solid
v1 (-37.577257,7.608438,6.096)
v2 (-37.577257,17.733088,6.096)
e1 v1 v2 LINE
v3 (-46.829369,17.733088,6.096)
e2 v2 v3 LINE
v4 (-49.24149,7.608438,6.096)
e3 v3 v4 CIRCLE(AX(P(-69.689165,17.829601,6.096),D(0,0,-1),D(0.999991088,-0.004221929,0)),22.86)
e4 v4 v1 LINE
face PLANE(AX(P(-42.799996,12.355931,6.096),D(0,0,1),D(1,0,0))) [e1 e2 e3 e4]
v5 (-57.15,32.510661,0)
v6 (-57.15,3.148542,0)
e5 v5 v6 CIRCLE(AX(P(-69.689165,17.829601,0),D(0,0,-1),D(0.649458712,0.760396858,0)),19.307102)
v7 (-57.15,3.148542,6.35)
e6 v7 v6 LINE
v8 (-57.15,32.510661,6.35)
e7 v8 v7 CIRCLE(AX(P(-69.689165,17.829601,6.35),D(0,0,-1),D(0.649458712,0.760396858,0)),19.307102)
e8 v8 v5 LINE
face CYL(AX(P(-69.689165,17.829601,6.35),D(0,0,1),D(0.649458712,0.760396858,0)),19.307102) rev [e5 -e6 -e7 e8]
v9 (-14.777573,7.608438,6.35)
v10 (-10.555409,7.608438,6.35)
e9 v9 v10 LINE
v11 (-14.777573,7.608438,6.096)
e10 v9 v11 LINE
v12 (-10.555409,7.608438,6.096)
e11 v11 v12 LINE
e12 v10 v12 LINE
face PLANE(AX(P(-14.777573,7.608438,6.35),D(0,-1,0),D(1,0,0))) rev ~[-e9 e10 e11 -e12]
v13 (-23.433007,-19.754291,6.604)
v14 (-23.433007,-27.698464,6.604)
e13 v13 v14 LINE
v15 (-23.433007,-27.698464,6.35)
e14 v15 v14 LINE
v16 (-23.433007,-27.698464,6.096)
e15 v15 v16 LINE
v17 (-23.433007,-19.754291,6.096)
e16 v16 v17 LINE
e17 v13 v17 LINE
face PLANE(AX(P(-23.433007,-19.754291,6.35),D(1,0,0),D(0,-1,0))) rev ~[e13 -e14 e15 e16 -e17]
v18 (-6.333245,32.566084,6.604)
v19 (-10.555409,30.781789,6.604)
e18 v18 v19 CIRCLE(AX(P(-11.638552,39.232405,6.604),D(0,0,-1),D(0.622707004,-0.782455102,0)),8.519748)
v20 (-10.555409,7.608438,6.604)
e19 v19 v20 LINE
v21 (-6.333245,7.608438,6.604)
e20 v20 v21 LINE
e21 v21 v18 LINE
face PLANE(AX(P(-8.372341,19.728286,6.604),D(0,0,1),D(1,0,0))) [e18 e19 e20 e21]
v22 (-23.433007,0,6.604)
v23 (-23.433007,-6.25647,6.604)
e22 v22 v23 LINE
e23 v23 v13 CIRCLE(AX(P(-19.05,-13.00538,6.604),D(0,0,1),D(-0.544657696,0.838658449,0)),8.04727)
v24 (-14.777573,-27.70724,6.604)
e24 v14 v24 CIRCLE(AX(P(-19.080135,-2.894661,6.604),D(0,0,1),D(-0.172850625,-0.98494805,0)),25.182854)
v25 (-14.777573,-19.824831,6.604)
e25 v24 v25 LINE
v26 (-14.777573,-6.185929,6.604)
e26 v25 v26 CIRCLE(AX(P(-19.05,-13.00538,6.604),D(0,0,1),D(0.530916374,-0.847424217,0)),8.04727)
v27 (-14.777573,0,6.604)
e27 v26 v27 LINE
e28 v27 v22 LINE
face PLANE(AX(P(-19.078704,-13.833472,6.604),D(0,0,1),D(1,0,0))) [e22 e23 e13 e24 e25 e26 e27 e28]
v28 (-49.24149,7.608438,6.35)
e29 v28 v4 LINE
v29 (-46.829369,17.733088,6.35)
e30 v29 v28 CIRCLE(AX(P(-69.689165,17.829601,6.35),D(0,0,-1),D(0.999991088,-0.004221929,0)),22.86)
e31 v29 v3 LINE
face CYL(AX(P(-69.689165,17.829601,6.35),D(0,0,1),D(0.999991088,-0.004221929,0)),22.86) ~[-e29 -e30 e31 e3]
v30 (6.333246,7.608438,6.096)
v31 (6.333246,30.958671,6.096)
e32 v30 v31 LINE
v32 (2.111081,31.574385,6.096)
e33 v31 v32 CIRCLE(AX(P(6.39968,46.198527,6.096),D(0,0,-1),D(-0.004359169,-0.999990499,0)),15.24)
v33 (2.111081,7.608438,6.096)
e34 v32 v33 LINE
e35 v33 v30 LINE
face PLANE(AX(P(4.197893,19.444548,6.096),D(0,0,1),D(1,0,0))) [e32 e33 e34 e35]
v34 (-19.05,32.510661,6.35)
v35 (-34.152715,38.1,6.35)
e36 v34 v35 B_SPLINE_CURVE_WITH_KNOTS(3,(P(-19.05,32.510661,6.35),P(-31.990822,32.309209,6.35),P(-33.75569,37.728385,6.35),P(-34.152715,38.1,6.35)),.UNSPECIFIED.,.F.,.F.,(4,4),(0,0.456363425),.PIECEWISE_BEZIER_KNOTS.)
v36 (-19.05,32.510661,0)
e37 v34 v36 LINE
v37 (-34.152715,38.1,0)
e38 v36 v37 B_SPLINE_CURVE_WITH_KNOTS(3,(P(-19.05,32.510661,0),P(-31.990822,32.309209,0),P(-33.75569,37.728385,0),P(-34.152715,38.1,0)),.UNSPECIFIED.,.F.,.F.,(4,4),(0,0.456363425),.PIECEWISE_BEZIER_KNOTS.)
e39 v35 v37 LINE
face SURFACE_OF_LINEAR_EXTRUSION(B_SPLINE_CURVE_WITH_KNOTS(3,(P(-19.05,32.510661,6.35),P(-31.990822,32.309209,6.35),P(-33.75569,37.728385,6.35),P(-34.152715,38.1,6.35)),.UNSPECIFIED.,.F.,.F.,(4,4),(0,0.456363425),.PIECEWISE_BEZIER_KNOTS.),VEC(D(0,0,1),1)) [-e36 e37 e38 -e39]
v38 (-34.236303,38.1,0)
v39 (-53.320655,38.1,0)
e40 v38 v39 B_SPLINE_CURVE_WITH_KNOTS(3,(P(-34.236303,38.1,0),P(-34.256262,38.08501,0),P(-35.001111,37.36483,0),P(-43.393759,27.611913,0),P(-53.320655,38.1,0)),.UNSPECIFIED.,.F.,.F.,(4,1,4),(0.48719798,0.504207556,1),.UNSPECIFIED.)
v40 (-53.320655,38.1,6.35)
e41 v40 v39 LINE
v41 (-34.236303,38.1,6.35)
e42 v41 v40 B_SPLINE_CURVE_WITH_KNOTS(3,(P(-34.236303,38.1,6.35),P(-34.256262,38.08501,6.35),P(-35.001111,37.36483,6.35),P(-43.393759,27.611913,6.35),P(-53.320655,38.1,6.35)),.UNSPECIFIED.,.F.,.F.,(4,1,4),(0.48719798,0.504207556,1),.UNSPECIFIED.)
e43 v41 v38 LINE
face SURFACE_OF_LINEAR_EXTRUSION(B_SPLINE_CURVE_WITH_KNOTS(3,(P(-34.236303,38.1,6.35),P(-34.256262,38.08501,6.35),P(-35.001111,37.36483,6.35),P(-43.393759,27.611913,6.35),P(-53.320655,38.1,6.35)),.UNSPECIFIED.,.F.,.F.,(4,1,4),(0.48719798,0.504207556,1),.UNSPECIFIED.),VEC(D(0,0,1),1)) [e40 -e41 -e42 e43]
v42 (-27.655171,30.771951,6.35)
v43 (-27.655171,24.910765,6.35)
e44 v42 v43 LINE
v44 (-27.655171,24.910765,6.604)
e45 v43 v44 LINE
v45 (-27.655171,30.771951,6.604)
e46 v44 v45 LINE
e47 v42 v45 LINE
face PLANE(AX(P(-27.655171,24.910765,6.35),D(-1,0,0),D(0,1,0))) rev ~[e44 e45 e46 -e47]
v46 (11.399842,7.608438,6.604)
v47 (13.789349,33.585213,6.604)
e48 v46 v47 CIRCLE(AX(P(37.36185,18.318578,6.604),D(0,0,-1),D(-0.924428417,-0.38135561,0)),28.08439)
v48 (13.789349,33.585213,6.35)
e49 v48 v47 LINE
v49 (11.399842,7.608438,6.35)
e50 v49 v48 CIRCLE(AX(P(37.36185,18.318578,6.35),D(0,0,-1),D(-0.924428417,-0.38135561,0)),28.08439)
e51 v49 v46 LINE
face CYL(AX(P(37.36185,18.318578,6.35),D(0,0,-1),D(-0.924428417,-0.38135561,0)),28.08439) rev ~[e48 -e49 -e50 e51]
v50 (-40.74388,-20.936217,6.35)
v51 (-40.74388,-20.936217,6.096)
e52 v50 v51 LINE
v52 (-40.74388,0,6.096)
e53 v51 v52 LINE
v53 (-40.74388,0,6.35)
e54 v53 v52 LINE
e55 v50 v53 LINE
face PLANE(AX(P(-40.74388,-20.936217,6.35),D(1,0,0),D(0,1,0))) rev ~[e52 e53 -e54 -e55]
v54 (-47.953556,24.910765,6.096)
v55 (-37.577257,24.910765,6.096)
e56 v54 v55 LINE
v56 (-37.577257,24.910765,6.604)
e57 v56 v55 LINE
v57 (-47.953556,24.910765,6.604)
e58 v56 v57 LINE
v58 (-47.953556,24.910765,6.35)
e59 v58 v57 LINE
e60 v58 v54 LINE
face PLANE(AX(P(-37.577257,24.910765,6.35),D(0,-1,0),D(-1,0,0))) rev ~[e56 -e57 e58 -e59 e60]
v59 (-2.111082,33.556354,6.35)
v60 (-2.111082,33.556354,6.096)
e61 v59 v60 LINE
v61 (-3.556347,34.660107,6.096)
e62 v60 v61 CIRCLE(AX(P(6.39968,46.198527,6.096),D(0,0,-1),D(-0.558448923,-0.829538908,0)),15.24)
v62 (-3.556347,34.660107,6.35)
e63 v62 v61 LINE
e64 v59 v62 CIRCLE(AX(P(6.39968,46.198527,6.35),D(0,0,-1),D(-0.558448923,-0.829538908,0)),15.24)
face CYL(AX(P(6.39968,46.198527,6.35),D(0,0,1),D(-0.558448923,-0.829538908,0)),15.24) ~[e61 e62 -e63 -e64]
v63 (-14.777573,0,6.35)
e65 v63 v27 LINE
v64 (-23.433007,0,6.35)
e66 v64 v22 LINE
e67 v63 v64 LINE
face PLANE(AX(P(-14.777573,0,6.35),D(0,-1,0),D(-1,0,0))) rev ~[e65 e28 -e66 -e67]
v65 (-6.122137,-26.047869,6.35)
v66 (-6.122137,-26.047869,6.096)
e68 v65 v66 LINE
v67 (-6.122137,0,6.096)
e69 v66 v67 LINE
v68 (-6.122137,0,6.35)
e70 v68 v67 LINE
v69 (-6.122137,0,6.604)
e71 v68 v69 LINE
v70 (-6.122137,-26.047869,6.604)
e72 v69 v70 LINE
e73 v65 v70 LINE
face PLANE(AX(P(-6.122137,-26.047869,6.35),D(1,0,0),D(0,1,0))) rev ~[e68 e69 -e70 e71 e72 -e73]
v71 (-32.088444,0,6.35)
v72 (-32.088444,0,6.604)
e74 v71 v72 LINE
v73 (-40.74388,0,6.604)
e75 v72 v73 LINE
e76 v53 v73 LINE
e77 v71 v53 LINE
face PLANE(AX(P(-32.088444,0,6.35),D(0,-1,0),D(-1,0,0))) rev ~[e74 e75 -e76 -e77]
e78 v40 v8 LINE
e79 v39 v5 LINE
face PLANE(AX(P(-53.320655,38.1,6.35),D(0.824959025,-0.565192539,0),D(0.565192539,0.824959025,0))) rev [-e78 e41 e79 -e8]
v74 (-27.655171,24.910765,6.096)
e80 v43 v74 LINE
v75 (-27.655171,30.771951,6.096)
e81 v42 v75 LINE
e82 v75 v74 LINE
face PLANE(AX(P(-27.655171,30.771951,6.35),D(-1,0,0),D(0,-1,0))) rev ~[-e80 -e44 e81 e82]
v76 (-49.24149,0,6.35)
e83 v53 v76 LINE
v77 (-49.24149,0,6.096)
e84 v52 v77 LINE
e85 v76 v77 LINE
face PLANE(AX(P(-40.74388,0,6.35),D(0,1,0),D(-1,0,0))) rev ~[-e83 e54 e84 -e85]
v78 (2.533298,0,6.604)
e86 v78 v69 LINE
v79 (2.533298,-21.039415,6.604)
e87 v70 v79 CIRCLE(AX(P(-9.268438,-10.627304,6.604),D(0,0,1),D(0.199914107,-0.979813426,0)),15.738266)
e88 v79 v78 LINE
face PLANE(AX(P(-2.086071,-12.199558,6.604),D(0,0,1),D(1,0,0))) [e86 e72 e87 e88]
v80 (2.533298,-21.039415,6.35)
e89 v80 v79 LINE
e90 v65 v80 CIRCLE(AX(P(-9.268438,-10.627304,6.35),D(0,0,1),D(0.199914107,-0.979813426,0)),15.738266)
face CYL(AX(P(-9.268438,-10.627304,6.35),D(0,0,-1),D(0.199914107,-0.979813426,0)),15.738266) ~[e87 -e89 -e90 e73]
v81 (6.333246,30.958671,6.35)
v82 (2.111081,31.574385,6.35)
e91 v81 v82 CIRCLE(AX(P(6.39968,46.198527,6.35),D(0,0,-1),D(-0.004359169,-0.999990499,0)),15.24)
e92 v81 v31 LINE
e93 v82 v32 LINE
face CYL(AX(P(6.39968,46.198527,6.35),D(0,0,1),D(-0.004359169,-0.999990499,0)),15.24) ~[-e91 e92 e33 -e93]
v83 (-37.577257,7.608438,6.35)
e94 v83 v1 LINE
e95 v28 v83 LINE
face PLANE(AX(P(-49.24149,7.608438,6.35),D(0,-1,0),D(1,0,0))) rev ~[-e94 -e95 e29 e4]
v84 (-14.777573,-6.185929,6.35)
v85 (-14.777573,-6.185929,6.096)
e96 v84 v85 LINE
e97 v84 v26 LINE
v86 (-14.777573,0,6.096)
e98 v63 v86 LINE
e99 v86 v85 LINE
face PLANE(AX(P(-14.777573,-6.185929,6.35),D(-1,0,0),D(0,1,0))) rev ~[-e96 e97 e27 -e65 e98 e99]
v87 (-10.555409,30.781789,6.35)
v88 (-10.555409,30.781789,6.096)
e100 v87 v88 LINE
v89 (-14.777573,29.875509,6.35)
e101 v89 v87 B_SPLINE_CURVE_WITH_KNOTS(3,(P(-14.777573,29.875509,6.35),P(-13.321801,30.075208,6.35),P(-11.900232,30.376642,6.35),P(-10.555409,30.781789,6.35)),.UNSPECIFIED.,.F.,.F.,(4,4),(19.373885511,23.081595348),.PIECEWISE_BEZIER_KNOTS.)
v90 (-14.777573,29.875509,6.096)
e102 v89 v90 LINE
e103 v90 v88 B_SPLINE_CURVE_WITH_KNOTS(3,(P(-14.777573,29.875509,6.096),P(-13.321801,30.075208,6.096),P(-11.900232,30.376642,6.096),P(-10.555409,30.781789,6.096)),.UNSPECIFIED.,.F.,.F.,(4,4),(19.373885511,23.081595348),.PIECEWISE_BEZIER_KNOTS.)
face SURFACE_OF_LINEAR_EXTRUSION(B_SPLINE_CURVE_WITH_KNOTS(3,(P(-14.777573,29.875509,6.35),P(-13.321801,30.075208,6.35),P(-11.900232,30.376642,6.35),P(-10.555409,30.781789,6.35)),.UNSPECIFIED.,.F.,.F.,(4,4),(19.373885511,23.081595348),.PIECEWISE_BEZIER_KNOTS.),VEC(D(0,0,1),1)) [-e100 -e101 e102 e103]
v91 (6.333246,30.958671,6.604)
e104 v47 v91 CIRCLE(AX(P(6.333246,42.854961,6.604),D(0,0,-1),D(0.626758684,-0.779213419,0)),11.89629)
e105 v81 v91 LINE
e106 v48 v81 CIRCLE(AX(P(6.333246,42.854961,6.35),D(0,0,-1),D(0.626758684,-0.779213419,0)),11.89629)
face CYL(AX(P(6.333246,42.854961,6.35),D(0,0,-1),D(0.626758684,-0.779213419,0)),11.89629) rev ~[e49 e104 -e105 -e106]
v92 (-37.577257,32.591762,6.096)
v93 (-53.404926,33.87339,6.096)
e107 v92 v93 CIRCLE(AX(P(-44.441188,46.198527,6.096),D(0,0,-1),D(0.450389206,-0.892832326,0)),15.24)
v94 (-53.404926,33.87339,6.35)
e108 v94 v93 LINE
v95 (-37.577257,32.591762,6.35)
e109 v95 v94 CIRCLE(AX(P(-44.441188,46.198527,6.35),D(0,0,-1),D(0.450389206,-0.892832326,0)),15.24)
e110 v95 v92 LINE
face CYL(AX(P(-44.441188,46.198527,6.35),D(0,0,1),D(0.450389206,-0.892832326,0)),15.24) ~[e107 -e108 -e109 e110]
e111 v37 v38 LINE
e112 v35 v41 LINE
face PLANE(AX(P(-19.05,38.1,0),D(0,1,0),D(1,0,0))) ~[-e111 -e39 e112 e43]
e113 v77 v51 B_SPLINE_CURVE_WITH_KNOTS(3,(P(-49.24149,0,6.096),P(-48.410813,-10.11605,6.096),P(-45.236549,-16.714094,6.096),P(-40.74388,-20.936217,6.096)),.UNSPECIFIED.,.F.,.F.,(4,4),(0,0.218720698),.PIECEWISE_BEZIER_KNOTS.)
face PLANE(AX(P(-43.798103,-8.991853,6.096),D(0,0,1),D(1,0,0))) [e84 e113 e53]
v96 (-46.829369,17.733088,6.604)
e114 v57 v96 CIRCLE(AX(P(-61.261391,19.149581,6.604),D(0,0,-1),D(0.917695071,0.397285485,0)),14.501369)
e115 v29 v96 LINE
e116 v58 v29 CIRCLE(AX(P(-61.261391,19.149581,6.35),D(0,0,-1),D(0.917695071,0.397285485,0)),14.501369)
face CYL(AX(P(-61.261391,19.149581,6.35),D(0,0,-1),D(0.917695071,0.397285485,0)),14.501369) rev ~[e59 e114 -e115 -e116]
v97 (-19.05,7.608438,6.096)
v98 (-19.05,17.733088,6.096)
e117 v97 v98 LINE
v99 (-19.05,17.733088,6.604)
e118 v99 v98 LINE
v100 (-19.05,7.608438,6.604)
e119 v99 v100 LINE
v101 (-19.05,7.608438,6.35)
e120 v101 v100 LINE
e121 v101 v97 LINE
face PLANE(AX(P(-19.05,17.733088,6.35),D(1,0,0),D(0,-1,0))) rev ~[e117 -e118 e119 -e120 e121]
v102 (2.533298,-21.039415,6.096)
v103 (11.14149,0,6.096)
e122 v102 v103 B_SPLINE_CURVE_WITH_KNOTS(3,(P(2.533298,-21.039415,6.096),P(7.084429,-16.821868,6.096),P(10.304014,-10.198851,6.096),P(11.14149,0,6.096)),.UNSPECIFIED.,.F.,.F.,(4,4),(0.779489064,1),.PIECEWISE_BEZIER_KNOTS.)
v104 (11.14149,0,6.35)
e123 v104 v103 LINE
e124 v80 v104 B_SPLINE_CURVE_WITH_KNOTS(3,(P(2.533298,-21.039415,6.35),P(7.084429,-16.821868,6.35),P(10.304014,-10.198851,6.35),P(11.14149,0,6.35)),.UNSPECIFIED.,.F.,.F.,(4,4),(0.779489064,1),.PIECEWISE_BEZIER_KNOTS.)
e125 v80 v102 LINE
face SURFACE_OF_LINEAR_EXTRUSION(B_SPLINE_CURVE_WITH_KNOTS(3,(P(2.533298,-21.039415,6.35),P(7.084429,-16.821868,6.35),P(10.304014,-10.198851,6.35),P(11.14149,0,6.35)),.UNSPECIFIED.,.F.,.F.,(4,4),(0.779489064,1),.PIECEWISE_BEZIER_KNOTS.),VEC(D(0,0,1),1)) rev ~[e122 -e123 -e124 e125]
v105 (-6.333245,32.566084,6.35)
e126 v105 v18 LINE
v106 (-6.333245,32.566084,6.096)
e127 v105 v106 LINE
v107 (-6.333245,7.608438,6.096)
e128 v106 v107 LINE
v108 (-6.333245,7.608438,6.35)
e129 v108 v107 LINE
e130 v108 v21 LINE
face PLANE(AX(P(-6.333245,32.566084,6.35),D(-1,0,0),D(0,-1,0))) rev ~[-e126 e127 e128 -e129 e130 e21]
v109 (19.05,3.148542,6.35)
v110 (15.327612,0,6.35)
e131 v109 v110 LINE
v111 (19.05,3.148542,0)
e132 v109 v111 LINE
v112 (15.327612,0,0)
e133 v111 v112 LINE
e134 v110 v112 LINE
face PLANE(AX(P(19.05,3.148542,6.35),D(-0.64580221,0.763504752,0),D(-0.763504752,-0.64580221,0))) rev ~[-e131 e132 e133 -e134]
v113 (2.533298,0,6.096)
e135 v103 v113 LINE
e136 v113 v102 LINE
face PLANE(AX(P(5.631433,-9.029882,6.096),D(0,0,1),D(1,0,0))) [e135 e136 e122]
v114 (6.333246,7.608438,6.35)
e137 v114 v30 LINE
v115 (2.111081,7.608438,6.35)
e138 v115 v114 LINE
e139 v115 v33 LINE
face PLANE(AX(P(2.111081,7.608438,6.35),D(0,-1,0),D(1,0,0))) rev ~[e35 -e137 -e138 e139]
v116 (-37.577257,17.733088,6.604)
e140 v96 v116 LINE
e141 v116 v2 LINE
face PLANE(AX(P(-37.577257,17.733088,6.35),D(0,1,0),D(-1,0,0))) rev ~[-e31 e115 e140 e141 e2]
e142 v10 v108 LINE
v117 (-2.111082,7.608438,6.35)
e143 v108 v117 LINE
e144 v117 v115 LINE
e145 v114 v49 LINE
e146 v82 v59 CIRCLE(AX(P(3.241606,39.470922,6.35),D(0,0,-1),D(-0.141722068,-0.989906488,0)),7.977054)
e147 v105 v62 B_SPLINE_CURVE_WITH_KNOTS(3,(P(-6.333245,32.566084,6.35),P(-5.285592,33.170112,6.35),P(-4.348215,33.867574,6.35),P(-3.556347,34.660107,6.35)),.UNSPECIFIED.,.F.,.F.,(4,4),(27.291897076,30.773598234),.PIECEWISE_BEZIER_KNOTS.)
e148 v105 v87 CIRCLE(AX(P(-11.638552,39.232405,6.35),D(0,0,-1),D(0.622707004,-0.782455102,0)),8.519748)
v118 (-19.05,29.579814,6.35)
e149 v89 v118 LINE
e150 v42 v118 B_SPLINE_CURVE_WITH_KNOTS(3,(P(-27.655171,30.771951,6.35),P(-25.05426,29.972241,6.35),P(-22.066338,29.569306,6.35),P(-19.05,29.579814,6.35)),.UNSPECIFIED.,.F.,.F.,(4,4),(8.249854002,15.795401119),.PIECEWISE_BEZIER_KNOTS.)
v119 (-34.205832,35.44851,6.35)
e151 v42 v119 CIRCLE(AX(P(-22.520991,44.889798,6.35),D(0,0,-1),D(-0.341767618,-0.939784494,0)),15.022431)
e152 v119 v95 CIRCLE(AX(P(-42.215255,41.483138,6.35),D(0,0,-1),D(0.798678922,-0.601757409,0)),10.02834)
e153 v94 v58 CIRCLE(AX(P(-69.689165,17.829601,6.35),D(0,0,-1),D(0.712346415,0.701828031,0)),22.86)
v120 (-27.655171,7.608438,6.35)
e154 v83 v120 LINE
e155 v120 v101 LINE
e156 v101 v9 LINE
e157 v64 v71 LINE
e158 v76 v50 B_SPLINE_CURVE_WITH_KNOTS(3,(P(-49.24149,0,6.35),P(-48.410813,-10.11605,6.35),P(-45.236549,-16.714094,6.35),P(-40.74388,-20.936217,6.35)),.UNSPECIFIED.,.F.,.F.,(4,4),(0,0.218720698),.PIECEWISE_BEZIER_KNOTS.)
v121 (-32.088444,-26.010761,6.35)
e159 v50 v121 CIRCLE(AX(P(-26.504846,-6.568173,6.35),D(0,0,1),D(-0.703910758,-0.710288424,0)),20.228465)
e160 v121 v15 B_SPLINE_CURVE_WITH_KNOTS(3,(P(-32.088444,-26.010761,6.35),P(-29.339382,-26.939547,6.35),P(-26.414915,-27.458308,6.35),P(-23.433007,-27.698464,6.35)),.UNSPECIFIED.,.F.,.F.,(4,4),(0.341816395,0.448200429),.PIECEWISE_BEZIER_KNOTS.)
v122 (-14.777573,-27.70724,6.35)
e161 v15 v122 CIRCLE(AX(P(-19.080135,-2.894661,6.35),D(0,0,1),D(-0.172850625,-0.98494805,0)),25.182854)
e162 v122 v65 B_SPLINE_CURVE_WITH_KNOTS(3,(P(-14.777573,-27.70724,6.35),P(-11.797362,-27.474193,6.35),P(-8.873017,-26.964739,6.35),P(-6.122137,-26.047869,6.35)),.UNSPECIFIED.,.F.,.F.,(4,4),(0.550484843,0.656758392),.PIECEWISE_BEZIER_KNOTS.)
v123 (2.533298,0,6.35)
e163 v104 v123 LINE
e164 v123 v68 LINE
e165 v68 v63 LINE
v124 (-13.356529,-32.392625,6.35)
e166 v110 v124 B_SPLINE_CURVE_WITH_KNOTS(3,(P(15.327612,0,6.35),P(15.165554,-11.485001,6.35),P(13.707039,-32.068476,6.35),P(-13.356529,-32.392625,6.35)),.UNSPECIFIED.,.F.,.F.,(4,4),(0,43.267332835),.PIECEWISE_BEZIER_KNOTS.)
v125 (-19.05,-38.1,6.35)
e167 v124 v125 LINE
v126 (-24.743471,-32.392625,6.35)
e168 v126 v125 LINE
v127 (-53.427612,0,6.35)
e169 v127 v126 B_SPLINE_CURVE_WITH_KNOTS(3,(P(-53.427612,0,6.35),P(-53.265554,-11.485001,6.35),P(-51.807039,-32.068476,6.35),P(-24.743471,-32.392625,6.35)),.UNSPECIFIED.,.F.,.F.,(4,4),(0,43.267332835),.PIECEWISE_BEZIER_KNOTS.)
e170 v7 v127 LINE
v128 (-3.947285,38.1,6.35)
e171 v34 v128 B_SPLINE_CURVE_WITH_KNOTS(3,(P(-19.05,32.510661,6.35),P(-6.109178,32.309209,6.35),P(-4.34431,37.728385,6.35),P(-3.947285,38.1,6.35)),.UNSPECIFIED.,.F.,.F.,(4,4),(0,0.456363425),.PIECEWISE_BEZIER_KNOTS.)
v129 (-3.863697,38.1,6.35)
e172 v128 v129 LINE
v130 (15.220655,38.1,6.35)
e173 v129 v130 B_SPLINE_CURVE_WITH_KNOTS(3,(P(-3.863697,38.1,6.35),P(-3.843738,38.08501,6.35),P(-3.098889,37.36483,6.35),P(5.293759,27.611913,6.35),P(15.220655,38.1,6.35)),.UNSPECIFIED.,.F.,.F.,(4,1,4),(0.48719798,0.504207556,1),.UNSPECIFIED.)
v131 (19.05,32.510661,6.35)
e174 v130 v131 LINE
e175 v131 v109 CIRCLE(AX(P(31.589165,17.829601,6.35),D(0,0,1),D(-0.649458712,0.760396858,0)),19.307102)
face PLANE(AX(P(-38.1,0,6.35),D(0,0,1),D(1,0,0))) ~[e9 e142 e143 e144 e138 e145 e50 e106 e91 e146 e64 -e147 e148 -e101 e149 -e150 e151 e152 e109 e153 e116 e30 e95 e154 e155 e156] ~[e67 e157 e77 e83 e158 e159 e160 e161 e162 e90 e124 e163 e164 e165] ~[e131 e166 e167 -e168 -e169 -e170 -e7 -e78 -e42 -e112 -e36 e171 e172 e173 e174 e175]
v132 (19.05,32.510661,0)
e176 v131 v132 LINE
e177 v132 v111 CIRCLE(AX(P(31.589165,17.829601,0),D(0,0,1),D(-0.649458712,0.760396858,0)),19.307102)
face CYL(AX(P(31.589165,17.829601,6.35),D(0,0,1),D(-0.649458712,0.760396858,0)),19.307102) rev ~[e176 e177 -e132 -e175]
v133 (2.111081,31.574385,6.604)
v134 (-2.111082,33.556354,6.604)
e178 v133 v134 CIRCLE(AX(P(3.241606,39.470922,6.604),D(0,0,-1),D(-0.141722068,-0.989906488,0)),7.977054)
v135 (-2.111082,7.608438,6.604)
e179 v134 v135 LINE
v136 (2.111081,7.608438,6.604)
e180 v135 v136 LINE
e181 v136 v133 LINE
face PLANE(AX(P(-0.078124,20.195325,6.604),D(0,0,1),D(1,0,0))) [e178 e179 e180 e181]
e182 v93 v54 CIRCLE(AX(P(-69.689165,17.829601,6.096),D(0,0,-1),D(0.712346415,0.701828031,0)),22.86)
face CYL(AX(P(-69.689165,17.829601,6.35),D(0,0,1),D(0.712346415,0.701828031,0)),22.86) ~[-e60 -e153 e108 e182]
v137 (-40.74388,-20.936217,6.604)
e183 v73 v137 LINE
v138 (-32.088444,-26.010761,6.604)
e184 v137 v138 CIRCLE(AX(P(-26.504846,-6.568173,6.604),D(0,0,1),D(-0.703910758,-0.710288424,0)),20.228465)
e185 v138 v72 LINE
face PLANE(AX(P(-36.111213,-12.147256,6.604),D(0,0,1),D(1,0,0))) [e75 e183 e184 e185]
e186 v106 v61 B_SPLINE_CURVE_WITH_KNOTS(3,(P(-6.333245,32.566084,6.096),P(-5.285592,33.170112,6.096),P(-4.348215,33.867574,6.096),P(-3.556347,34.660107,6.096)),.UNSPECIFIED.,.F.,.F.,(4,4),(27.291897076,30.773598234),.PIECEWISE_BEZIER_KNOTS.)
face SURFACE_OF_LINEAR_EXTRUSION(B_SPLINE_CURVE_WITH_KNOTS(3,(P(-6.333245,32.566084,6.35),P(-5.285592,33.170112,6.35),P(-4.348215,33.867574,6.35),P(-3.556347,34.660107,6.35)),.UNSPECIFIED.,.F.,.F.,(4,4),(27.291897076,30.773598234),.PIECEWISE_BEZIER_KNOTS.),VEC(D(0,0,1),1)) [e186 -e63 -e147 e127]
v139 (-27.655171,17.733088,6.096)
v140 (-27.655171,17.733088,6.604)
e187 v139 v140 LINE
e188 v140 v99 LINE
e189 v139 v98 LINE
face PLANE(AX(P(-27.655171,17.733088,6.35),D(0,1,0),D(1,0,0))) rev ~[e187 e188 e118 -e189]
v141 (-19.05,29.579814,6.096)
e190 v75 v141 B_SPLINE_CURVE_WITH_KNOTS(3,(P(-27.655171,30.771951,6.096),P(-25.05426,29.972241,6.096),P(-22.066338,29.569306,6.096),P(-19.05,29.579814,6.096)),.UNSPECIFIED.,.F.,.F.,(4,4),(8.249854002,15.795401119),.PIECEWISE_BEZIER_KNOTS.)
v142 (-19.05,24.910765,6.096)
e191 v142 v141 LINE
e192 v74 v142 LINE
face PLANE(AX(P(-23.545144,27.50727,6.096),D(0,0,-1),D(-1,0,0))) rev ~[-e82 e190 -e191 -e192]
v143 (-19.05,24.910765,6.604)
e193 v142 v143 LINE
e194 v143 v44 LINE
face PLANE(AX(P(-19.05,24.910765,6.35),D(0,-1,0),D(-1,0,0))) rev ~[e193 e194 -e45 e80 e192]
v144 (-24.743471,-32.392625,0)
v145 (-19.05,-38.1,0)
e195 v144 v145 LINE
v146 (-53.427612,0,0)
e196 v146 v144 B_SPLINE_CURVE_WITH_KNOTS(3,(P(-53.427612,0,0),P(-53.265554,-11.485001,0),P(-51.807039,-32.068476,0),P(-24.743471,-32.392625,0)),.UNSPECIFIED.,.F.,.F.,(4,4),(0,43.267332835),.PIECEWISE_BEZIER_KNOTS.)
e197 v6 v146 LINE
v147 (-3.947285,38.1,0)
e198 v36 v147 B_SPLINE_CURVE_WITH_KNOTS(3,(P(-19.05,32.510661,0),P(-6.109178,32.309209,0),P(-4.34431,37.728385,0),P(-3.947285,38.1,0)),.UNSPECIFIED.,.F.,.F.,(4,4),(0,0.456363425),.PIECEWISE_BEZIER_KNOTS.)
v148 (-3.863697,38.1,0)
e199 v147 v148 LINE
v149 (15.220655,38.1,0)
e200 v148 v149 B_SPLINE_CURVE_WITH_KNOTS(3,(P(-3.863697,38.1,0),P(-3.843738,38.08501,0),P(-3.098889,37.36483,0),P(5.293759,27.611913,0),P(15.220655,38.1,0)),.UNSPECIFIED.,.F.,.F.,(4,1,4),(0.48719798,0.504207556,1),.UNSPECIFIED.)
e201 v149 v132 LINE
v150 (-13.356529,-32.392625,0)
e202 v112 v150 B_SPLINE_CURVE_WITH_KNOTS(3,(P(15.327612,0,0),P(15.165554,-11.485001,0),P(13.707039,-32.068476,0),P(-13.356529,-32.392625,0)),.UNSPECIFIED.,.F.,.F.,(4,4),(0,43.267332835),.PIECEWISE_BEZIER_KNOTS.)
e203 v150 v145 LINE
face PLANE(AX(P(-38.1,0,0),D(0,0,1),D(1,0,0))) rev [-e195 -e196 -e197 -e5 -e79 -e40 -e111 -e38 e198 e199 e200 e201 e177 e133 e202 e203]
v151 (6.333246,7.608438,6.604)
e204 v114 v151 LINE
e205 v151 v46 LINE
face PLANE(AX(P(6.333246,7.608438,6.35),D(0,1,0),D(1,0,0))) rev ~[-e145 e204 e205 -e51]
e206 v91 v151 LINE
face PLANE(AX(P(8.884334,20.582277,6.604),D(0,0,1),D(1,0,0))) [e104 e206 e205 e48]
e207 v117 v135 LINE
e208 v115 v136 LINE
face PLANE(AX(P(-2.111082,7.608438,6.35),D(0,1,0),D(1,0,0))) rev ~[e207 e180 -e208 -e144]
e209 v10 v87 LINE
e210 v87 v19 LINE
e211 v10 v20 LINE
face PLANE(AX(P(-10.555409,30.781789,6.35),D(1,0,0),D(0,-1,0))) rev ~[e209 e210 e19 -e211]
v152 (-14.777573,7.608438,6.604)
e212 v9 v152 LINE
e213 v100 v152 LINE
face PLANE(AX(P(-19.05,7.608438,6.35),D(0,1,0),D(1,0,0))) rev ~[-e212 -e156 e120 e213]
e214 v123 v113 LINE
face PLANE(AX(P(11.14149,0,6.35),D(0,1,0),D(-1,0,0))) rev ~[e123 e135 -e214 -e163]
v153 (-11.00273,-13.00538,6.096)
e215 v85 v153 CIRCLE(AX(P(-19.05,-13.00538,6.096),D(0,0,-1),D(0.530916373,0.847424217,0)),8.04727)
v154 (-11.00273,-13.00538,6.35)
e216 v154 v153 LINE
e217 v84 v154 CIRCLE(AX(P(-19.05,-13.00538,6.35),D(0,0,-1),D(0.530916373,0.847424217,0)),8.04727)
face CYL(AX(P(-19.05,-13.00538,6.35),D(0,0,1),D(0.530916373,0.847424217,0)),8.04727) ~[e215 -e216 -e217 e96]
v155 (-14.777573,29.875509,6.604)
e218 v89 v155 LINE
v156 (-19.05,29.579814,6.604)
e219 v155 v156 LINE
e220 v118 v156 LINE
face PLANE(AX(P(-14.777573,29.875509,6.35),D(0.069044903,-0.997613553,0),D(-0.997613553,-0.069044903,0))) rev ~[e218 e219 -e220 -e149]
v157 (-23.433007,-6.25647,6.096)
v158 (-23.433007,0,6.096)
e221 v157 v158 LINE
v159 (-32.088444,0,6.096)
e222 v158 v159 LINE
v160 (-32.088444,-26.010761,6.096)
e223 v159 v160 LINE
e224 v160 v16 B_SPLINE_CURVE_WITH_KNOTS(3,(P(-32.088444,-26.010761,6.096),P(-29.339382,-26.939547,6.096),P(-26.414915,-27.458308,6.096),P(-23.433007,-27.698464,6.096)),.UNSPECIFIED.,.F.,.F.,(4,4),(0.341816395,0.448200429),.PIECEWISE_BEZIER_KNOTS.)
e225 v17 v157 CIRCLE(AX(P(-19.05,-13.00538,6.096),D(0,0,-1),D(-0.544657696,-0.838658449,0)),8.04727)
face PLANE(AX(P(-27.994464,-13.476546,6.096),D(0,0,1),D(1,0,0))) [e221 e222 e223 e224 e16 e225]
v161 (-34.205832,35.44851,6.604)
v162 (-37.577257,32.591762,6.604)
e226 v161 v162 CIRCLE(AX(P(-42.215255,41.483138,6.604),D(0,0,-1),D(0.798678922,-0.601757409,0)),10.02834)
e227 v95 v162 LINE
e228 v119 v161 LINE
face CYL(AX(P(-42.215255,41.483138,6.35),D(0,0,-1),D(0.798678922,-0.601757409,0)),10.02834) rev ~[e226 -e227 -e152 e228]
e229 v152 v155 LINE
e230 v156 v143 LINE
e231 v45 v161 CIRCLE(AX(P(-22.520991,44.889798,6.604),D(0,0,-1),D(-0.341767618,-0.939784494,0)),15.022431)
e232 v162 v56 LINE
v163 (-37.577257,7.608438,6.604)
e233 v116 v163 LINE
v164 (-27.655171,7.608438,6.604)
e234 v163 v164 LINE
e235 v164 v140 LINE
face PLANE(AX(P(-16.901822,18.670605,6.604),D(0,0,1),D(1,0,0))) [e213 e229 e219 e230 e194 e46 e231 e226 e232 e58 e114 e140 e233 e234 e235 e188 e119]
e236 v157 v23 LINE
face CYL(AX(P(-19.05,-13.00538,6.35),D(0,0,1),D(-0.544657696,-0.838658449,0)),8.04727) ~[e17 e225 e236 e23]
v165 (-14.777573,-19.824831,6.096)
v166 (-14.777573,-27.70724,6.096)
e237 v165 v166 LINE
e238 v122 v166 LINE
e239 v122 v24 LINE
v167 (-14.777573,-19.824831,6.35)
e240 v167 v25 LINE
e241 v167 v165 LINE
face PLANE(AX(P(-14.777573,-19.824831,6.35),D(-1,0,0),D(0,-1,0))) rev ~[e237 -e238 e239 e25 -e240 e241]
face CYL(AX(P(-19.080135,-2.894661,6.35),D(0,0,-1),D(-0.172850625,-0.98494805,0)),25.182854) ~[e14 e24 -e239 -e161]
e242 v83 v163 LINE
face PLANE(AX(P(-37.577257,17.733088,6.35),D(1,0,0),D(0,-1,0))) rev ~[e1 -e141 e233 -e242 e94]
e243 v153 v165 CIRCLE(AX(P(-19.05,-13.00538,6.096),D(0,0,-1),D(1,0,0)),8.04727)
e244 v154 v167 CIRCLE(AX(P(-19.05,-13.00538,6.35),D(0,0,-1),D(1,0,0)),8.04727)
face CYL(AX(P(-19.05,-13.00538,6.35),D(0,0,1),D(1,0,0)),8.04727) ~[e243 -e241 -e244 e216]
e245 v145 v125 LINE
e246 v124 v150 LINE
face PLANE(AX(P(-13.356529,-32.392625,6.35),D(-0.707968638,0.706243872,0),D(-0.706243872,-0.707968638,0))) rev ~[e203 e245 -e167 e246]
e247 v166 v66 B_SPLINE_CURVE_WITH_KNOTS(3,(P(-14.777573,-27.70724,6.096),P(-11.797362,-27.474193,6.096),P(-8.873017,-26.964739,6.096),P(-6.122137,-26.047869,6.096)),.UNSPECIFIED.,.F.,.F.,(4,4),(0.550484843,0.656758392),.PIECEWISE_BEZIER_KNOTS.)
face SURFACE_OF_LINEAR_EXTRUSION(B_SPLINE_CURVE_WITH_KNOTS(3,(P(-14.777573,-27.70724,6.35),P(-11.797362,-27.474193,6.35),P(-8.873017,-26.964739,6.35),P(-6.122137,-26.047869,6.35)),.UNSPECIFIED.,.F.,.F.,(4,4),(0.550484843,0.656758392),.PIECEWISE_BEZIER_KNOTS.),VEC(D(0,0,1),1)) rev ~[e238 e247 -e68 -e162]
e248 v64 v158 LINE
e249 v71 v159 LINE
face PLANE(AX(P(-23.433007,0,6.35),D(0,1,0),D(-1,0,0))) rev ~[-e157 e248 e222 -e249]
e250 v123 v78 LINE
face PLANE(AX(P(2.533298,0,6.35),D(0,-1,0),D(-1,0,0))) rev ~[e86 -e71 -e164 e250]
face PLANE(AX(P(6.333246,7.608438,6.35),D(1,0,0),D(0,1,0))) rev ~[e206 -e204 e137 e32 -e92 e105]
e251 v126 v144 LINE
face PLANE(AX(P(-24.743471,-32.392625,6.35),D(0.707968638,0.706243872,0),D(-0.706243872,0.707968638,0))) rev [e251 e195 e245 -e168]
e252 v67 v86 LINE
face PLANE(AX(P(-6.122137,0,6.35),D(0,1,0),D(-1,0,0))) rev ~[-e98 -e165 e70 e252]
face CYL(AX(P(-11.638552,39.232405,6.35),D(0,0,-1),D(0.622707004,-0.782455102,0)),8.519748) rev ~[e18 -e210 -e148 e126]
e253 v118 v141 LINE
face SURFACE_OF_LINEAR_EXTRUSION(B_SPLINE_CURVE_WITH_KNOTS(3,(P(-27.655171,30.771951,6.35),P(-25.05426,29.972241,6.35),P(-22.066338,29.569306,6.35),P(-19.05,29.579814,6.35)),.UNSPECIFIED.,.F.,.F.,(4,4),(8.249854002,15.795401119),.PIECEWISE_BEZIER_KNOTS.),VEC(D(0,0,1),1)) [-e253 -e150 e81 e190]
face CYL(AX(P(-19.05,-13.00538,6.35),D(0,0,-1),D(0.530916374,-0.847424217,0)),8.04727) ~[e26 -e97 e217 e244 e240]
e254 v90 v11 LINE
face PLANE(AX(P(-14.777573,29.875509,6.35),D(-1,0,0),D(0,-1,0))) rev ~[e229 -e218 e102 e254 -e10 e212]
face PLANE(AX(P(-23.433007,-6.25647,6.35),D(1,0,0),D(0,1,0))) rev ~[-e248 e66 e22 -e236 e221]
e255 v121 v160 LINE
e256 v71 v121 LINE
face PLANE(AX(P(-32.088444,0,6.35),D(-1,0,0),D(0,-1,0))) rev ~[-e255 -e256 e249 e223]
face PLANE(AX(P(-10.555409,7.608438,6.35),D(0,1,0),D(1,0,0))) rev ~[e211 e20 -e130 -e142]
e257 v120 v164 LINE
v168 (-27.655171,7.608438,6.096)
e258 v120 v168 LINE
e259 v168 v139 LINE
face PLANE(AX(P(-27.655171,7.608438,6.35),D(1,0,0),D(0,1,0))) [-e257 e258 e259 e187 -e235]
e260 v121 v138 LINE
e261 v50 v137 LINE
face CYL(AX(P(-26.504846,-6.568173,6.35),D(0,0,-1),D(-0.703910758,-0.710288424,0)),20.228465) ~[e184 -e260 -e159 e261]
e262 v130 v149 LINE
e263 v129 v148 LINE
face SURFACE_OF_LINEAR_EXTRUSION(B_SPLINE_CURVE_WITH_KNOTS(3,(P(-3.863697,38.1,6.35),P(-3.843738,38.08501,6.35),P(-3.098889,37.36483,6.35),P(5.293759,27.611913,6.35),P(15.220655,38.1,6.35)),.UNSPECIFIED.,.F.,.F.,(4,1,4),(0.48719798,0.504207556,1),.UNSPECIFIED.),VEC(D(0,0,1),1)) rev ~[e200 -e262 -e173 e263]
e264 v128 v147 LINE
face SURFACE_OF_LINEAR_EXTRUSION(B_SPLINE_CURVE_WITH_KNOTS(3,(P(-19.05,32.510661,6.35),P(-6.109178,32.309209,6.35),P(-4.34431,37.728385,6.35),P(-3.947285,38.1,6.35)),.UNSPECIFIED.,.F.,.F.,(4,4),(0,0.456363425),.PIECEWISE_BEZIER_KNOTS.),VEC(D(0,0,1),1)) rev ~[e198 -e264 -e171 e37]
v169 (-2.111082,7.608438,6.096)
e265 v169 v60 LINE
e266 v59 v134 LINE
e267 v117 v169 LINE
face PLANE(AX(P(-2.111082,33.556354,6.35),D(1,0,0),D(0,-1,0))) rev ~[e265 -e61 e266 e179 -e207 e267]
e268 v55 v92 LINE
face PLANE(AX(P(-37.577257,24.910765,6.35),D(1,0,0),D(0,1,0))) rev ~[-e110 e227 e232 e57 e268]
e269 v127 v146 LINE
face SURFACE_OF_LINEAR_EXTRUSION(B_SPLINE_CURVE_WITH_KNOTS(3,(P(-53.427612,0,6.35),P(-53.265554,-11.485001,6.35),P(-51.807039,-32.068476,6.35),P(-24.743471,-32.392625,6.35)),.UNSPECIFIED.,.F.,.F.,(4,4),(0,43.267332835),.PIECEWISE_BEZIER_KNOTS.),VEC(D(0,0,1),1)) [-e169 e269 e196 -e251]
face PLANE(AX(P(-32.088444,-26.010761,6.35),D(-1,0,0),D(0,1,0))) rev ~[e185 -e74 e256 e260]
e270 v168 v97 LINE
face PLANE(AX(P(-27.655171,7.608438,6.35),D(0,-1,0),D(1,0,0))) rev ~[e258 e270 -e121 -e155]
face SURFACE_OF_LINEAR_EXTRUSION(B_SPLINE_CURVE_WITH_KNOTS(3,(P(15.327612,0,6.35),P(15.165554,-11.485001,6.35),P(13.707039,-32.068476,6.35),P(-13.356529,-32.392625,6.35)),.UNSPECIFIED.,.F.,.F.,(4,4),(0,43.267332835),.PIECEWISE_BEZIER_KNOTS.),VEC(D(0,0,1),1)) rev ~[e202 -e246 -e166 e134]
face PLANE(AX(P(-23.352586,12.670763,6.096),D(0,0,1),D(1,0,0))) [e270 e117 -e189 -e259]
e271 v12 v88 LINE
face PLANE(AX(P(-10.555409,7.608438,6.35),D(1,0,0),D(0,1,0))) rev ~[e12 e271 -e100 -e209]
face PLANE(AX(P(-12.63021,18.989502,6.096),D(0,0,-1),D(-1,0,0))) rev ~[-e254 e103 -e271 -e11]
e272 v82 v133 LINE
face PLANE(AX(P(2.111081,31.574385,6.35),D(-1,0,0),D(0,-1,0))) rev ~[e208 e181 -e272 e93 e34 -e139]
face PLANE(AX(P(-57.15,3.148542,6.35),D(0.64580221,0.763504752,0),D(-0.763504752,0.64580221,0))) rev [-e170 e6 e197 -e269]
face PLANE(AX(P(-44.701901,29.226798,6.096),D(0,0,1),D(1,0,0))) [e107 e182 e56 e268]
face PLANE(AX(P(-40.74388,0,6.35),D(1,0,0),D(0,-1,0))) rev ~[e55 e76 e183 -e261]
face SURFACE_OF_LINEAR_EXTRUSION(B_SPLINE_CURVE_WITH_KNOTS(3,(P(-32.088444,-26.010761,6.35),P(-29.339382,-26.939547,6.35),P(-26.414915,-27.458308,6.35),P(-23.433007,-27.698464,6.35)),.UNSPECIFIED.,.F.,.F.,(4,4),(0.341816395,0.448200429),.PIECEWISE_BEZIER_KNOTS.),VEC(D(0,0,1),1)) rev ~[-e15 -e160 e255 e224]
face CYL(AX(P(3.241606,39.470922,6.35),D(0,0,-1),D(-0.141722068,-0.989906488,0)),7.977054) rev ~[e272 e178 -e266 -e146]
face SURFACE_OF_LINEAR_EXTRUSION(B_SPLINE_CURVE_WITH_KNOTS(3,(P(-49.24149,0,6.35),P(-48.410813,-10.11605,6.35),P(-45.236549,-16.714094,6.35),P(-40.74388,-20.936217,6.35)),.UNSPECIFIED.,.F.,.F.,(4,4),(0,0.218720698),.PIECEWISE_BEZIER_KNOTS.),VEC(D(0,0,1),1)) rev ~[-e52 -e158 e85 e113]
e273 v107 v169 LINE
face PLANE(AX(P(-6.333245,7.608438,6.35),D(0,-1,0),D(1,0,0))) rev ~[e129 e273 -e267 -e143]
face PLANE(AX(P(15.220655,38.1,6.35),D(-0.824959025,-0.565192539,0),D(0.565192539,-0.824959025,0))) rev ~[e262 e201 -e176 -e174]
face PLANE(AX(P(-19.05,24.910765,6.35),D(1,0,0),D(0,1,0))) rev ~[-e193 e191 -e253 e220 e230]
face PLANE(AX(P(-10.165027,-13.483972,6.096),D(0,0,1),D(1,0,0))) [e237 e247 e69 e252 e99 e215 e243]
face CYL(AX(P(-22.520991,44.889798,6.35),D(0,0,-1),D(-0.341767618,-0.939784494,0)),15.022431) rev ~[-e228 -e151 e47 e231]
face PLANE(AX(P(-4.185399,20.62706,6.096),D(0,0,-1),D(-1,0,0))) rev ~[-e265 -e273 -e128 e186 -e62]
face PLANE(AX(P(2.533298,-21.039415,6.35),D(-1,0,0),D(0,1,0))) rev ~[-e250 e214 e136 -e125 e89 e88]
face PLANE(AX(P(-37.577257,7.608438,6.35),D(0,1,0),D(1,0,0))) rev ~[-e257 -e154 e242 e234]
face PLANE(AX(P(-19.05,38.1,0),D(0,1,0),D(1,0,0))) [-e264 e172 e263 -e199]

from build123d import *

# Parameters (mm, degrees)
F0_W     = 38.1
F0_H     = 76.2
F1_DEPTH = 6.35
F3_DEPTH = 6.35
F5_W     = 8.6051712304
F5_H     = 10.1246496194
F6_DEPTH = 0.254
F8_DEPTH = 0.254


with BuildPart() as f1:
    # F0 (on Top) → F1 (new body)
    with BuildSketch(Plane.XY):
        Rectangle(F0_W, F0_H)
    extrude(amount=F1_DEPTH)

    # F2 (on face) → F3 (cut)
    with BuildSketch(Plane.XY.offset(6.35)):
        with BuildLine():
            Line((-3.9472845383, 38.1), (-3.8636967831, 38.1))
            add(Edge.make_bspline(
                [(-3.9472845383, 38.1), (-3.9204592136, 38.1251084892), (-3.8998782769, 38.127174182), (-3.8636967831, 38.1)],
                knots=[0.4563634252, 0.4563634252, 0.4563634252, 0.4563634252, 0.4871979804, 0.4871979804, 0.4871979804, 0.4871979804], degree=3))
        make_face()
        with BuildLine():
            add(Edge.make_bspline(
                [(-19.05, 32.5106605887), (-6.1091777888, 32.3092094071), (-4.3443097915, 37.7283845811), (-3.9472845383, 38.1)],
                knots=[0, 0, 0, 0, 0.4563634252, 0.4563634252, 0.4563634252, 0.4563634252], degree=3))
            Line((-3.9472845383, 38.1), (-19.05, 38.1))
            Line((-19.05, 38.1), (-19.05, 32.5106605887))
        make_face()
        with BuildLine():
            Line((19.05, -38.1), (19.05, 3.1485415529))
            Line((19.05, 3.1485415529), (15.3276119381, 0))
            add(Edge.make_bspline(
                [(15.3276119381, 0), (15.1655543596, -11.4850010723), (13.7070389464, -32.0684760809), (-13.3565291762, -32.3926247656)],
                knots=[0, 0, 0, 0, 43.2673328352, 43.2673328352, 43.2673328352, 43.2673328352], degree=3))
            Line((-13.3565291762, -32.3926247656), (-19.05, -38.1))
            Line((-19.05, -38.1), (19.05, -38.1))
        make_face()
        with BuildLine():
            Line((19.05, 3.1485415529), (19.05, 32.5106605887))
            ThreePointArc((19.05, 32.5106605887), (12.2820636744, 17.8296010708), (19.05, 3.1485415529))
        make_face()
        Polygon((15.2206547403, 38.1), (19.05, 32.5106605887), (19.05, 38.1), align=None)
        with BuildLine():
            add(Edge.make_bspline(
                [(-3.8636967831, 38.1), (-3.843737622, 38.0850096328), (-3.0988894532, 37.3648301618), (5.2937592339, 27.6119129043), (15.2206547403, 38.1)],
                knots=[0.4871979804, 0.4871979804, 0.4871979804, 0.4871979804, 0.5042075561, 1, 1, 1, 1], degree=3))
            Line((15.2206547403, 38.1), (-3.8636967831, 38.1))
        make_face()
    extrude(amount=-F3_DEPTH, mode=Mode.SUBTRACT)

    # F4: F1 across face


with BuildPart() as f1_1:
    add(f1.part)
    add(f1.part.mirror(Plane(origin=(-19.05, -2.7946697056, 3.175), x_dir=(0, -1, 0), z_dir=(-1, 0, 0))))

    # F5 (on face) → F6 (cut)
    with BuildSketch(Plane.XY.offset(6.35)):
        with BuildLine():
            ThreePointArc((-37.5772565603, 32.5917619335), (-45.671204203, 31.008244813), (-53.4049263852, 33.873389857))
            ThreePointArc((-53.4049263852, 33.873389857), (-50.1581802259, 29.7090041206), (-47.9535559256, 24.9107647687))
            Line((-47.9535559256, 24.9107647687), (-37.5772565603, 24.9107647687))
            Line((-37.5772565603, 24.9107647687), (-37.5772565603, 32.5917619335))
        make_face()
        with BuildLine():
            Line((-37.5772565603, 17.7330877632), (-46.8293691707, 17.7330877632))
            ThreePointArc((-46.8293691707, 17.7330877632), (-47.4515529833, 12.5316587806), (-49.2414900542, 7.6084381438))
            Line((-49.2414900542, 7.6084381438), (-37.5772565603, 7.6084381438))
            Line((-37.5772565603, 7.6084381438), (-37.5772565603, 17.7330877632))
        make_face()
        with Locations((-23.3525856152, 12.6707629535)):
            Rectangle(F5_W, F5_H)
        with BuildLine():
            add(Edge.make_bspline(
                [(-27.6551712304, 30.7719508767), (-25.0542603527, 29.9722405749), (-22.0663375313, 29.5693060648), (-19.05, 29.5798139295)],
                knots=[8.2498540023, 8.2498540023, 8.2498540023, 8.2498540023, 15.7954011192, 15.7954011192, 15.7954011192, 15.7954011192], degree=3))
            Line((-27.6551712304, 30.7719508767), (-27.6551712304, 24.9107647687))
            Line((-27.6551712304, 24.9107647687), (-19.05, 24.9107647687))
            Line((-19.05, 24.9107647687), (-19.05, 29.5798139295))
        make_face()
        with BuildLine():
            add(Edge.make_bspline(
                [(-14.7775728256, 29.8755089086), (-13.3218013512, 30.0752082684), (-11.9002315961, 30.3766424012), (-10.555408895, 30.7817886934)],
                knots=[19.3738855113, 19.3738855113, 19.3738855113, 19.3738855113, 23.0815953476, 23.0815953476, 23.0815953476, 23.0815953476], degree=3))
            Line((-14.7775728256, 29.8755089086), (-14.7775728256, 7.6084381438))
            Line((-14.7775728256, 7.6084381438), (-10.555408895, 7.6084381438))
            Line((-10.555408895, 7.6084381438), (-10.555408895, 30.7817886934))
        make_face()
        with BuildLine():
            add(Edge.make_bspline(
                [(-6.3332454301, 32.5660842134), (-5.2855915186, 33.1701122102), (-4.348215472, 33.8675739108), (-3.5563470113, 34.6601066929)],
                knots=[27.291897076, 27.291897076, 27.291897076, 27.291897076, 30.7735982336, 30.7735982336, 30.7735982336, 30.7735982336], degree=3))
            Line((-6.3332454301, 32.5660842134), (-6.3332454301, 7.6084381438))
            Line((-6.3332454301, 7.6084381438), (-2.1110819653, 7.6084381438))
            Line((-2.1110819653, 7.6084381438), (-2.1110819653, 33.5563536252))
            ThreePointArc((-2.1110819653, 33.5563536252), (-2.8501925125, 34.0866536733), (-3.5563470113, 34.6601066929))
        make_face()
        with BuildLine():
            ThreePointArc((6.3332458958, 30.9586713834), (4.2005089038, 31.1180342806), (2.1110812668, 31.5743847599))
            Line((2.1110812668, 31.5743847599), (2.1110812668, 7.6084381438))
            Line((2.1110812668, 7.6084381438), (6.3332458958, 7.6084381438))
            Line((6.3332458958, 7.6084381438), (6.3332458958, 30.9586713834))
        make_face()
        with BuildLine():
            Line((11.1414900542, 0), (2.5332975201, 0))
            Line((2.5332975201, 0), (2.5332975201, -21.0394149611))
            add(Edge.make_bspline(
                [(2.5332975201, -21.0394149611), (7.0844292813, -16.8218684935), (10.3040141885, -10.1988507211), (11.1414900542, 0)],
                knots=[0.7794890643, 0.7794890643, 0.7794890643, 0.7794890643, 1, 1, 1, 1], degree=3))
        make_face()
        with BuildLine():
            Line((-6.1221369542, 0), (-14.7775728256, 0))
            Line((-14.7775728256, 0), (-14.7775728256, -6.1859292111))
            ThreePointArc((-14.7775728256, -6.1859292111), (-12.0094062526, -9.1081265301), (-11.0027304346, -13.0053803252))
            ThreePointArc((-11.0027304346, -13.0053803252), (-12.0094062526, -16.9026341203), (-14.7775728256, -19.8248314393))
            Line((-14.7775728256, -19.8248314393), (-14.7775728256, -27.7072399522))
            add(Edge.make_bspline(
                [(-14.7775728256, -27.7072399522), (-11.7973621926, -27.4741929831), (-8.8730169385, -26.9647393053), (-6.1221369542, -26.0478686811)],
                knots=[0.5504848433, 0.5504848433, 0.5504848433, 0.5504848433, 0.6567583921, 0.6567583921, 0.6567583921, 0.6567583921], degree=3))
            Line((-6.1221369542, -26.0478686811), (-6.1221369542, 0))
        make_face()
        with BuildLine():
            Line((-23.4330072999, 0), (-32.0884436369, 0))
            Line((-32.0884436369, 0), (-32.0884436369, -26.0107606504))
            add(Edge.make_bspline(
                [(-32.0884436369, -26.0107606504), (-29.3393823668, -26.9395470029), (-26.4149145694, -27.4583082328), (-23.4330072999, -27.6984636108)],
                knots=[0.341816395, 0.341816395, 0.341816395, 0.341816395, 0.4482004295, 0.4482004295, 0.4482004295, 0.4482004295], degree=3))
            Line((-23.4330072999, -27.6984636108), (-23.4330072999, -19.7542909386))
            ThreePointArc((-23.4330072999, -19.7542909386), (-27.0972695654, -13.0053803252), (-23.4330072999, -6.2564697118))
            Line((-23.4330072999, -6.2564697118), (-23.4330072999, 0))
        make_face()
        with BuildLine():
            Line((-40.7438799739, 0), (-49.2414900542, 0))
            add(Edge.make_bspline(
                [(-49.2414900542, 0), (-48.410813311, -10.1160504409), (-45.236549248, -16.7140936827), (-40.7438799739, -20.9362171076)],
                knots=[0, 0, 0, 0, 0.218720698, 0.218720698, 0.218720698, 0.218720698], degree=3))
            Line((-40.7438799739, -20.9362171076), (-40.7438799739, 0))
        make_face()
    extrude(amount=-F6_DEPTH, mode=Mode.SUBTRACT)

    # F7 (on face) → F8 (join)
    with BuildSketch(Plane.XY.offset(6.35)):
        with BuildLine():
            Line((-40.7438799739, 0), (-40.7438799765, -20.9362171051))
            ThreePointArc((-40.7438799765, -20.9362171051), (-36.7357760167, -24.0186414564), (-32.0884436271, -26.0107606537))
            Line((-32.0884436271, -26.0107606537), (-32.0884436369, 0))
            Line((-32.0884436369, 0), (-40.7438799739, 0))
        make_face()
        with BuildLine():
            Line((-10.5554089048, 30.7817886905), (-10.555408895, 7.6084381438))
            Line((-10.555408895, 7.6084381438), (-6.3332454301, 7.6084381438))
            Line((-6.3332454301, 7.6084381438), (-6.3332454301, 32.5660842134))
            ThreePointArc((-6.3332454301, 32.5660842134), (-8.3220779988, 31.3846592732), (-10.5554089048, 30.7817886905))
        make_face()
        with BuildLine():
            Line((-2.1110819653, 33.5563536252), (-2.1110819653, 7.6084381438))
            Line((-2.1110819653, 7.6084381438), (2.1110812668, 7.6084381438))
            Line((2.1110812668, 7.6084381438), (2.1110812668, 31.5743847599))
            ThreePointArc((2.1110812668, 31.5743847599), (-0.1480933869, 32.2498884656), (-2.1110819653, 33.5563536252))
        make_face()
        Polygon((-19.05, 17.7330877632), (-19.05, 7.6084381438), (-14.7775728256, 7.6084381438), (-14.7775728256, 29.8755089086), (-19.05, 29.5798139295), (-19.05, 24.9107647687), align=None)
        with BuildLine():
            Line((-6.1221369542, 0), (-6.1221369542, -26.0478686811))
            ThreePointArc((-6.122136964, -26.0478686844), (-1.3860461596, -24.2493787213), (2.5332975225, -21.0394149589))
            Line((2.5332975201, -21.0394149611), (2.5332975201, 0))
            Line((2.5332975201, 0), (-6.1221369542, 0))
        make_face()
        with BuildLine():
            Line((-23.4330072999, -19.7542909386), (-23.4330072999, -27.6984636108))
            ThreePointArc((-23.4330072999, -27.6984636108), (-19.1056699461, -28.0775017142), (-14.7775728256, -27.7072399522))
            Line((-14.7775728256, -27.7072399522), (-14.7775728256, -19.8248314393))
            ThreePointArc((-14.7775728256, -19.8248314393), (-11.0027304346, -13.0053803252), (-14.7775728256, -6.1859292111))
            Line((-14.7775728256, -6.1859292111), (-14.7775728256, 0))
            Line((-14.7775728256, 0), (-23.4330072999, 0))
            Line((-23.4330072999, 0), (-23.4330072999, -6.2564697118))
            ThreePointArc((-23.4330072999, -6.2564697118), (-27.0972695654, -13.0053803252), (-23.4330072999, -19.7542909386))
        make_face()
        with BuildLine():
            Line((6.3332458958, 30.9586713834), (6.3332458958, 7.6084381438))
            Line((6.3332458958, 7.6084381438), (11.3998418674, 7.6084381438))
            ThreePointArc((11.3998418674, 7.6084381438), (9.3955290294, 20.8910955307), (13.7893487286, 33.5852125012))
            ThreePointArc((13.7893487286, 33.5852125012), (10.2858459166, 31.6345038021), (6.3332458958, 30.9586713834))
        make_face()
        with BuildLine():
            Line((-37.5772565603, 17.7330877632), (-37.5772565603, 7.6084381438))
            Line((-37.5772565603, 7.6084381438), (-27.6551712304, 7.6084381438))
            Line((-27.6551712304, 7.6084381438), (-27.6551712304, 17.7330877632))
            Line((-27.6551712304, 17.7330877632), (-19.05, 17.7330877632))
            Line((-19.05, 17.7330877632), (-19.05, 24.9107647687))
            Line((-19.05, 24.9107647687), (-27.6551712304, 24.9107647687))
            Line((-27.6551712304, 24.9107647687), (-27.6551712305, 30.7719508767))
            ThreePointArc((-27.6551712305, 30.7719508767), (-31.2495313727, 32.6633513709), (-34.2058315873, 35.4485101998))
            ThreePointArc((-34.2058315873, 35.4485101998), (-35.7322331398, 33.8321233993), (-37.5772565603, 32.5917619335))
            Line((-37.5772565603, 32.5917619335), (-37.5772565603, 24.9107647687))
            Line((-37.5772565603, 24.9107647687), (-47.9535559256, 24.9107647687))
            ThreePointArc((-47.9535559256, 24.9107647687), (-46.9346789734, 21.3934689174), (-46.8293691707, 17.7330877632))
            Line((-46.8293691707, 17.7330877632), (-37.5772565603, 17.7330877632))
        make_face()
    extrude(amount=F8_DEPTH)


solid = f1_1.part
